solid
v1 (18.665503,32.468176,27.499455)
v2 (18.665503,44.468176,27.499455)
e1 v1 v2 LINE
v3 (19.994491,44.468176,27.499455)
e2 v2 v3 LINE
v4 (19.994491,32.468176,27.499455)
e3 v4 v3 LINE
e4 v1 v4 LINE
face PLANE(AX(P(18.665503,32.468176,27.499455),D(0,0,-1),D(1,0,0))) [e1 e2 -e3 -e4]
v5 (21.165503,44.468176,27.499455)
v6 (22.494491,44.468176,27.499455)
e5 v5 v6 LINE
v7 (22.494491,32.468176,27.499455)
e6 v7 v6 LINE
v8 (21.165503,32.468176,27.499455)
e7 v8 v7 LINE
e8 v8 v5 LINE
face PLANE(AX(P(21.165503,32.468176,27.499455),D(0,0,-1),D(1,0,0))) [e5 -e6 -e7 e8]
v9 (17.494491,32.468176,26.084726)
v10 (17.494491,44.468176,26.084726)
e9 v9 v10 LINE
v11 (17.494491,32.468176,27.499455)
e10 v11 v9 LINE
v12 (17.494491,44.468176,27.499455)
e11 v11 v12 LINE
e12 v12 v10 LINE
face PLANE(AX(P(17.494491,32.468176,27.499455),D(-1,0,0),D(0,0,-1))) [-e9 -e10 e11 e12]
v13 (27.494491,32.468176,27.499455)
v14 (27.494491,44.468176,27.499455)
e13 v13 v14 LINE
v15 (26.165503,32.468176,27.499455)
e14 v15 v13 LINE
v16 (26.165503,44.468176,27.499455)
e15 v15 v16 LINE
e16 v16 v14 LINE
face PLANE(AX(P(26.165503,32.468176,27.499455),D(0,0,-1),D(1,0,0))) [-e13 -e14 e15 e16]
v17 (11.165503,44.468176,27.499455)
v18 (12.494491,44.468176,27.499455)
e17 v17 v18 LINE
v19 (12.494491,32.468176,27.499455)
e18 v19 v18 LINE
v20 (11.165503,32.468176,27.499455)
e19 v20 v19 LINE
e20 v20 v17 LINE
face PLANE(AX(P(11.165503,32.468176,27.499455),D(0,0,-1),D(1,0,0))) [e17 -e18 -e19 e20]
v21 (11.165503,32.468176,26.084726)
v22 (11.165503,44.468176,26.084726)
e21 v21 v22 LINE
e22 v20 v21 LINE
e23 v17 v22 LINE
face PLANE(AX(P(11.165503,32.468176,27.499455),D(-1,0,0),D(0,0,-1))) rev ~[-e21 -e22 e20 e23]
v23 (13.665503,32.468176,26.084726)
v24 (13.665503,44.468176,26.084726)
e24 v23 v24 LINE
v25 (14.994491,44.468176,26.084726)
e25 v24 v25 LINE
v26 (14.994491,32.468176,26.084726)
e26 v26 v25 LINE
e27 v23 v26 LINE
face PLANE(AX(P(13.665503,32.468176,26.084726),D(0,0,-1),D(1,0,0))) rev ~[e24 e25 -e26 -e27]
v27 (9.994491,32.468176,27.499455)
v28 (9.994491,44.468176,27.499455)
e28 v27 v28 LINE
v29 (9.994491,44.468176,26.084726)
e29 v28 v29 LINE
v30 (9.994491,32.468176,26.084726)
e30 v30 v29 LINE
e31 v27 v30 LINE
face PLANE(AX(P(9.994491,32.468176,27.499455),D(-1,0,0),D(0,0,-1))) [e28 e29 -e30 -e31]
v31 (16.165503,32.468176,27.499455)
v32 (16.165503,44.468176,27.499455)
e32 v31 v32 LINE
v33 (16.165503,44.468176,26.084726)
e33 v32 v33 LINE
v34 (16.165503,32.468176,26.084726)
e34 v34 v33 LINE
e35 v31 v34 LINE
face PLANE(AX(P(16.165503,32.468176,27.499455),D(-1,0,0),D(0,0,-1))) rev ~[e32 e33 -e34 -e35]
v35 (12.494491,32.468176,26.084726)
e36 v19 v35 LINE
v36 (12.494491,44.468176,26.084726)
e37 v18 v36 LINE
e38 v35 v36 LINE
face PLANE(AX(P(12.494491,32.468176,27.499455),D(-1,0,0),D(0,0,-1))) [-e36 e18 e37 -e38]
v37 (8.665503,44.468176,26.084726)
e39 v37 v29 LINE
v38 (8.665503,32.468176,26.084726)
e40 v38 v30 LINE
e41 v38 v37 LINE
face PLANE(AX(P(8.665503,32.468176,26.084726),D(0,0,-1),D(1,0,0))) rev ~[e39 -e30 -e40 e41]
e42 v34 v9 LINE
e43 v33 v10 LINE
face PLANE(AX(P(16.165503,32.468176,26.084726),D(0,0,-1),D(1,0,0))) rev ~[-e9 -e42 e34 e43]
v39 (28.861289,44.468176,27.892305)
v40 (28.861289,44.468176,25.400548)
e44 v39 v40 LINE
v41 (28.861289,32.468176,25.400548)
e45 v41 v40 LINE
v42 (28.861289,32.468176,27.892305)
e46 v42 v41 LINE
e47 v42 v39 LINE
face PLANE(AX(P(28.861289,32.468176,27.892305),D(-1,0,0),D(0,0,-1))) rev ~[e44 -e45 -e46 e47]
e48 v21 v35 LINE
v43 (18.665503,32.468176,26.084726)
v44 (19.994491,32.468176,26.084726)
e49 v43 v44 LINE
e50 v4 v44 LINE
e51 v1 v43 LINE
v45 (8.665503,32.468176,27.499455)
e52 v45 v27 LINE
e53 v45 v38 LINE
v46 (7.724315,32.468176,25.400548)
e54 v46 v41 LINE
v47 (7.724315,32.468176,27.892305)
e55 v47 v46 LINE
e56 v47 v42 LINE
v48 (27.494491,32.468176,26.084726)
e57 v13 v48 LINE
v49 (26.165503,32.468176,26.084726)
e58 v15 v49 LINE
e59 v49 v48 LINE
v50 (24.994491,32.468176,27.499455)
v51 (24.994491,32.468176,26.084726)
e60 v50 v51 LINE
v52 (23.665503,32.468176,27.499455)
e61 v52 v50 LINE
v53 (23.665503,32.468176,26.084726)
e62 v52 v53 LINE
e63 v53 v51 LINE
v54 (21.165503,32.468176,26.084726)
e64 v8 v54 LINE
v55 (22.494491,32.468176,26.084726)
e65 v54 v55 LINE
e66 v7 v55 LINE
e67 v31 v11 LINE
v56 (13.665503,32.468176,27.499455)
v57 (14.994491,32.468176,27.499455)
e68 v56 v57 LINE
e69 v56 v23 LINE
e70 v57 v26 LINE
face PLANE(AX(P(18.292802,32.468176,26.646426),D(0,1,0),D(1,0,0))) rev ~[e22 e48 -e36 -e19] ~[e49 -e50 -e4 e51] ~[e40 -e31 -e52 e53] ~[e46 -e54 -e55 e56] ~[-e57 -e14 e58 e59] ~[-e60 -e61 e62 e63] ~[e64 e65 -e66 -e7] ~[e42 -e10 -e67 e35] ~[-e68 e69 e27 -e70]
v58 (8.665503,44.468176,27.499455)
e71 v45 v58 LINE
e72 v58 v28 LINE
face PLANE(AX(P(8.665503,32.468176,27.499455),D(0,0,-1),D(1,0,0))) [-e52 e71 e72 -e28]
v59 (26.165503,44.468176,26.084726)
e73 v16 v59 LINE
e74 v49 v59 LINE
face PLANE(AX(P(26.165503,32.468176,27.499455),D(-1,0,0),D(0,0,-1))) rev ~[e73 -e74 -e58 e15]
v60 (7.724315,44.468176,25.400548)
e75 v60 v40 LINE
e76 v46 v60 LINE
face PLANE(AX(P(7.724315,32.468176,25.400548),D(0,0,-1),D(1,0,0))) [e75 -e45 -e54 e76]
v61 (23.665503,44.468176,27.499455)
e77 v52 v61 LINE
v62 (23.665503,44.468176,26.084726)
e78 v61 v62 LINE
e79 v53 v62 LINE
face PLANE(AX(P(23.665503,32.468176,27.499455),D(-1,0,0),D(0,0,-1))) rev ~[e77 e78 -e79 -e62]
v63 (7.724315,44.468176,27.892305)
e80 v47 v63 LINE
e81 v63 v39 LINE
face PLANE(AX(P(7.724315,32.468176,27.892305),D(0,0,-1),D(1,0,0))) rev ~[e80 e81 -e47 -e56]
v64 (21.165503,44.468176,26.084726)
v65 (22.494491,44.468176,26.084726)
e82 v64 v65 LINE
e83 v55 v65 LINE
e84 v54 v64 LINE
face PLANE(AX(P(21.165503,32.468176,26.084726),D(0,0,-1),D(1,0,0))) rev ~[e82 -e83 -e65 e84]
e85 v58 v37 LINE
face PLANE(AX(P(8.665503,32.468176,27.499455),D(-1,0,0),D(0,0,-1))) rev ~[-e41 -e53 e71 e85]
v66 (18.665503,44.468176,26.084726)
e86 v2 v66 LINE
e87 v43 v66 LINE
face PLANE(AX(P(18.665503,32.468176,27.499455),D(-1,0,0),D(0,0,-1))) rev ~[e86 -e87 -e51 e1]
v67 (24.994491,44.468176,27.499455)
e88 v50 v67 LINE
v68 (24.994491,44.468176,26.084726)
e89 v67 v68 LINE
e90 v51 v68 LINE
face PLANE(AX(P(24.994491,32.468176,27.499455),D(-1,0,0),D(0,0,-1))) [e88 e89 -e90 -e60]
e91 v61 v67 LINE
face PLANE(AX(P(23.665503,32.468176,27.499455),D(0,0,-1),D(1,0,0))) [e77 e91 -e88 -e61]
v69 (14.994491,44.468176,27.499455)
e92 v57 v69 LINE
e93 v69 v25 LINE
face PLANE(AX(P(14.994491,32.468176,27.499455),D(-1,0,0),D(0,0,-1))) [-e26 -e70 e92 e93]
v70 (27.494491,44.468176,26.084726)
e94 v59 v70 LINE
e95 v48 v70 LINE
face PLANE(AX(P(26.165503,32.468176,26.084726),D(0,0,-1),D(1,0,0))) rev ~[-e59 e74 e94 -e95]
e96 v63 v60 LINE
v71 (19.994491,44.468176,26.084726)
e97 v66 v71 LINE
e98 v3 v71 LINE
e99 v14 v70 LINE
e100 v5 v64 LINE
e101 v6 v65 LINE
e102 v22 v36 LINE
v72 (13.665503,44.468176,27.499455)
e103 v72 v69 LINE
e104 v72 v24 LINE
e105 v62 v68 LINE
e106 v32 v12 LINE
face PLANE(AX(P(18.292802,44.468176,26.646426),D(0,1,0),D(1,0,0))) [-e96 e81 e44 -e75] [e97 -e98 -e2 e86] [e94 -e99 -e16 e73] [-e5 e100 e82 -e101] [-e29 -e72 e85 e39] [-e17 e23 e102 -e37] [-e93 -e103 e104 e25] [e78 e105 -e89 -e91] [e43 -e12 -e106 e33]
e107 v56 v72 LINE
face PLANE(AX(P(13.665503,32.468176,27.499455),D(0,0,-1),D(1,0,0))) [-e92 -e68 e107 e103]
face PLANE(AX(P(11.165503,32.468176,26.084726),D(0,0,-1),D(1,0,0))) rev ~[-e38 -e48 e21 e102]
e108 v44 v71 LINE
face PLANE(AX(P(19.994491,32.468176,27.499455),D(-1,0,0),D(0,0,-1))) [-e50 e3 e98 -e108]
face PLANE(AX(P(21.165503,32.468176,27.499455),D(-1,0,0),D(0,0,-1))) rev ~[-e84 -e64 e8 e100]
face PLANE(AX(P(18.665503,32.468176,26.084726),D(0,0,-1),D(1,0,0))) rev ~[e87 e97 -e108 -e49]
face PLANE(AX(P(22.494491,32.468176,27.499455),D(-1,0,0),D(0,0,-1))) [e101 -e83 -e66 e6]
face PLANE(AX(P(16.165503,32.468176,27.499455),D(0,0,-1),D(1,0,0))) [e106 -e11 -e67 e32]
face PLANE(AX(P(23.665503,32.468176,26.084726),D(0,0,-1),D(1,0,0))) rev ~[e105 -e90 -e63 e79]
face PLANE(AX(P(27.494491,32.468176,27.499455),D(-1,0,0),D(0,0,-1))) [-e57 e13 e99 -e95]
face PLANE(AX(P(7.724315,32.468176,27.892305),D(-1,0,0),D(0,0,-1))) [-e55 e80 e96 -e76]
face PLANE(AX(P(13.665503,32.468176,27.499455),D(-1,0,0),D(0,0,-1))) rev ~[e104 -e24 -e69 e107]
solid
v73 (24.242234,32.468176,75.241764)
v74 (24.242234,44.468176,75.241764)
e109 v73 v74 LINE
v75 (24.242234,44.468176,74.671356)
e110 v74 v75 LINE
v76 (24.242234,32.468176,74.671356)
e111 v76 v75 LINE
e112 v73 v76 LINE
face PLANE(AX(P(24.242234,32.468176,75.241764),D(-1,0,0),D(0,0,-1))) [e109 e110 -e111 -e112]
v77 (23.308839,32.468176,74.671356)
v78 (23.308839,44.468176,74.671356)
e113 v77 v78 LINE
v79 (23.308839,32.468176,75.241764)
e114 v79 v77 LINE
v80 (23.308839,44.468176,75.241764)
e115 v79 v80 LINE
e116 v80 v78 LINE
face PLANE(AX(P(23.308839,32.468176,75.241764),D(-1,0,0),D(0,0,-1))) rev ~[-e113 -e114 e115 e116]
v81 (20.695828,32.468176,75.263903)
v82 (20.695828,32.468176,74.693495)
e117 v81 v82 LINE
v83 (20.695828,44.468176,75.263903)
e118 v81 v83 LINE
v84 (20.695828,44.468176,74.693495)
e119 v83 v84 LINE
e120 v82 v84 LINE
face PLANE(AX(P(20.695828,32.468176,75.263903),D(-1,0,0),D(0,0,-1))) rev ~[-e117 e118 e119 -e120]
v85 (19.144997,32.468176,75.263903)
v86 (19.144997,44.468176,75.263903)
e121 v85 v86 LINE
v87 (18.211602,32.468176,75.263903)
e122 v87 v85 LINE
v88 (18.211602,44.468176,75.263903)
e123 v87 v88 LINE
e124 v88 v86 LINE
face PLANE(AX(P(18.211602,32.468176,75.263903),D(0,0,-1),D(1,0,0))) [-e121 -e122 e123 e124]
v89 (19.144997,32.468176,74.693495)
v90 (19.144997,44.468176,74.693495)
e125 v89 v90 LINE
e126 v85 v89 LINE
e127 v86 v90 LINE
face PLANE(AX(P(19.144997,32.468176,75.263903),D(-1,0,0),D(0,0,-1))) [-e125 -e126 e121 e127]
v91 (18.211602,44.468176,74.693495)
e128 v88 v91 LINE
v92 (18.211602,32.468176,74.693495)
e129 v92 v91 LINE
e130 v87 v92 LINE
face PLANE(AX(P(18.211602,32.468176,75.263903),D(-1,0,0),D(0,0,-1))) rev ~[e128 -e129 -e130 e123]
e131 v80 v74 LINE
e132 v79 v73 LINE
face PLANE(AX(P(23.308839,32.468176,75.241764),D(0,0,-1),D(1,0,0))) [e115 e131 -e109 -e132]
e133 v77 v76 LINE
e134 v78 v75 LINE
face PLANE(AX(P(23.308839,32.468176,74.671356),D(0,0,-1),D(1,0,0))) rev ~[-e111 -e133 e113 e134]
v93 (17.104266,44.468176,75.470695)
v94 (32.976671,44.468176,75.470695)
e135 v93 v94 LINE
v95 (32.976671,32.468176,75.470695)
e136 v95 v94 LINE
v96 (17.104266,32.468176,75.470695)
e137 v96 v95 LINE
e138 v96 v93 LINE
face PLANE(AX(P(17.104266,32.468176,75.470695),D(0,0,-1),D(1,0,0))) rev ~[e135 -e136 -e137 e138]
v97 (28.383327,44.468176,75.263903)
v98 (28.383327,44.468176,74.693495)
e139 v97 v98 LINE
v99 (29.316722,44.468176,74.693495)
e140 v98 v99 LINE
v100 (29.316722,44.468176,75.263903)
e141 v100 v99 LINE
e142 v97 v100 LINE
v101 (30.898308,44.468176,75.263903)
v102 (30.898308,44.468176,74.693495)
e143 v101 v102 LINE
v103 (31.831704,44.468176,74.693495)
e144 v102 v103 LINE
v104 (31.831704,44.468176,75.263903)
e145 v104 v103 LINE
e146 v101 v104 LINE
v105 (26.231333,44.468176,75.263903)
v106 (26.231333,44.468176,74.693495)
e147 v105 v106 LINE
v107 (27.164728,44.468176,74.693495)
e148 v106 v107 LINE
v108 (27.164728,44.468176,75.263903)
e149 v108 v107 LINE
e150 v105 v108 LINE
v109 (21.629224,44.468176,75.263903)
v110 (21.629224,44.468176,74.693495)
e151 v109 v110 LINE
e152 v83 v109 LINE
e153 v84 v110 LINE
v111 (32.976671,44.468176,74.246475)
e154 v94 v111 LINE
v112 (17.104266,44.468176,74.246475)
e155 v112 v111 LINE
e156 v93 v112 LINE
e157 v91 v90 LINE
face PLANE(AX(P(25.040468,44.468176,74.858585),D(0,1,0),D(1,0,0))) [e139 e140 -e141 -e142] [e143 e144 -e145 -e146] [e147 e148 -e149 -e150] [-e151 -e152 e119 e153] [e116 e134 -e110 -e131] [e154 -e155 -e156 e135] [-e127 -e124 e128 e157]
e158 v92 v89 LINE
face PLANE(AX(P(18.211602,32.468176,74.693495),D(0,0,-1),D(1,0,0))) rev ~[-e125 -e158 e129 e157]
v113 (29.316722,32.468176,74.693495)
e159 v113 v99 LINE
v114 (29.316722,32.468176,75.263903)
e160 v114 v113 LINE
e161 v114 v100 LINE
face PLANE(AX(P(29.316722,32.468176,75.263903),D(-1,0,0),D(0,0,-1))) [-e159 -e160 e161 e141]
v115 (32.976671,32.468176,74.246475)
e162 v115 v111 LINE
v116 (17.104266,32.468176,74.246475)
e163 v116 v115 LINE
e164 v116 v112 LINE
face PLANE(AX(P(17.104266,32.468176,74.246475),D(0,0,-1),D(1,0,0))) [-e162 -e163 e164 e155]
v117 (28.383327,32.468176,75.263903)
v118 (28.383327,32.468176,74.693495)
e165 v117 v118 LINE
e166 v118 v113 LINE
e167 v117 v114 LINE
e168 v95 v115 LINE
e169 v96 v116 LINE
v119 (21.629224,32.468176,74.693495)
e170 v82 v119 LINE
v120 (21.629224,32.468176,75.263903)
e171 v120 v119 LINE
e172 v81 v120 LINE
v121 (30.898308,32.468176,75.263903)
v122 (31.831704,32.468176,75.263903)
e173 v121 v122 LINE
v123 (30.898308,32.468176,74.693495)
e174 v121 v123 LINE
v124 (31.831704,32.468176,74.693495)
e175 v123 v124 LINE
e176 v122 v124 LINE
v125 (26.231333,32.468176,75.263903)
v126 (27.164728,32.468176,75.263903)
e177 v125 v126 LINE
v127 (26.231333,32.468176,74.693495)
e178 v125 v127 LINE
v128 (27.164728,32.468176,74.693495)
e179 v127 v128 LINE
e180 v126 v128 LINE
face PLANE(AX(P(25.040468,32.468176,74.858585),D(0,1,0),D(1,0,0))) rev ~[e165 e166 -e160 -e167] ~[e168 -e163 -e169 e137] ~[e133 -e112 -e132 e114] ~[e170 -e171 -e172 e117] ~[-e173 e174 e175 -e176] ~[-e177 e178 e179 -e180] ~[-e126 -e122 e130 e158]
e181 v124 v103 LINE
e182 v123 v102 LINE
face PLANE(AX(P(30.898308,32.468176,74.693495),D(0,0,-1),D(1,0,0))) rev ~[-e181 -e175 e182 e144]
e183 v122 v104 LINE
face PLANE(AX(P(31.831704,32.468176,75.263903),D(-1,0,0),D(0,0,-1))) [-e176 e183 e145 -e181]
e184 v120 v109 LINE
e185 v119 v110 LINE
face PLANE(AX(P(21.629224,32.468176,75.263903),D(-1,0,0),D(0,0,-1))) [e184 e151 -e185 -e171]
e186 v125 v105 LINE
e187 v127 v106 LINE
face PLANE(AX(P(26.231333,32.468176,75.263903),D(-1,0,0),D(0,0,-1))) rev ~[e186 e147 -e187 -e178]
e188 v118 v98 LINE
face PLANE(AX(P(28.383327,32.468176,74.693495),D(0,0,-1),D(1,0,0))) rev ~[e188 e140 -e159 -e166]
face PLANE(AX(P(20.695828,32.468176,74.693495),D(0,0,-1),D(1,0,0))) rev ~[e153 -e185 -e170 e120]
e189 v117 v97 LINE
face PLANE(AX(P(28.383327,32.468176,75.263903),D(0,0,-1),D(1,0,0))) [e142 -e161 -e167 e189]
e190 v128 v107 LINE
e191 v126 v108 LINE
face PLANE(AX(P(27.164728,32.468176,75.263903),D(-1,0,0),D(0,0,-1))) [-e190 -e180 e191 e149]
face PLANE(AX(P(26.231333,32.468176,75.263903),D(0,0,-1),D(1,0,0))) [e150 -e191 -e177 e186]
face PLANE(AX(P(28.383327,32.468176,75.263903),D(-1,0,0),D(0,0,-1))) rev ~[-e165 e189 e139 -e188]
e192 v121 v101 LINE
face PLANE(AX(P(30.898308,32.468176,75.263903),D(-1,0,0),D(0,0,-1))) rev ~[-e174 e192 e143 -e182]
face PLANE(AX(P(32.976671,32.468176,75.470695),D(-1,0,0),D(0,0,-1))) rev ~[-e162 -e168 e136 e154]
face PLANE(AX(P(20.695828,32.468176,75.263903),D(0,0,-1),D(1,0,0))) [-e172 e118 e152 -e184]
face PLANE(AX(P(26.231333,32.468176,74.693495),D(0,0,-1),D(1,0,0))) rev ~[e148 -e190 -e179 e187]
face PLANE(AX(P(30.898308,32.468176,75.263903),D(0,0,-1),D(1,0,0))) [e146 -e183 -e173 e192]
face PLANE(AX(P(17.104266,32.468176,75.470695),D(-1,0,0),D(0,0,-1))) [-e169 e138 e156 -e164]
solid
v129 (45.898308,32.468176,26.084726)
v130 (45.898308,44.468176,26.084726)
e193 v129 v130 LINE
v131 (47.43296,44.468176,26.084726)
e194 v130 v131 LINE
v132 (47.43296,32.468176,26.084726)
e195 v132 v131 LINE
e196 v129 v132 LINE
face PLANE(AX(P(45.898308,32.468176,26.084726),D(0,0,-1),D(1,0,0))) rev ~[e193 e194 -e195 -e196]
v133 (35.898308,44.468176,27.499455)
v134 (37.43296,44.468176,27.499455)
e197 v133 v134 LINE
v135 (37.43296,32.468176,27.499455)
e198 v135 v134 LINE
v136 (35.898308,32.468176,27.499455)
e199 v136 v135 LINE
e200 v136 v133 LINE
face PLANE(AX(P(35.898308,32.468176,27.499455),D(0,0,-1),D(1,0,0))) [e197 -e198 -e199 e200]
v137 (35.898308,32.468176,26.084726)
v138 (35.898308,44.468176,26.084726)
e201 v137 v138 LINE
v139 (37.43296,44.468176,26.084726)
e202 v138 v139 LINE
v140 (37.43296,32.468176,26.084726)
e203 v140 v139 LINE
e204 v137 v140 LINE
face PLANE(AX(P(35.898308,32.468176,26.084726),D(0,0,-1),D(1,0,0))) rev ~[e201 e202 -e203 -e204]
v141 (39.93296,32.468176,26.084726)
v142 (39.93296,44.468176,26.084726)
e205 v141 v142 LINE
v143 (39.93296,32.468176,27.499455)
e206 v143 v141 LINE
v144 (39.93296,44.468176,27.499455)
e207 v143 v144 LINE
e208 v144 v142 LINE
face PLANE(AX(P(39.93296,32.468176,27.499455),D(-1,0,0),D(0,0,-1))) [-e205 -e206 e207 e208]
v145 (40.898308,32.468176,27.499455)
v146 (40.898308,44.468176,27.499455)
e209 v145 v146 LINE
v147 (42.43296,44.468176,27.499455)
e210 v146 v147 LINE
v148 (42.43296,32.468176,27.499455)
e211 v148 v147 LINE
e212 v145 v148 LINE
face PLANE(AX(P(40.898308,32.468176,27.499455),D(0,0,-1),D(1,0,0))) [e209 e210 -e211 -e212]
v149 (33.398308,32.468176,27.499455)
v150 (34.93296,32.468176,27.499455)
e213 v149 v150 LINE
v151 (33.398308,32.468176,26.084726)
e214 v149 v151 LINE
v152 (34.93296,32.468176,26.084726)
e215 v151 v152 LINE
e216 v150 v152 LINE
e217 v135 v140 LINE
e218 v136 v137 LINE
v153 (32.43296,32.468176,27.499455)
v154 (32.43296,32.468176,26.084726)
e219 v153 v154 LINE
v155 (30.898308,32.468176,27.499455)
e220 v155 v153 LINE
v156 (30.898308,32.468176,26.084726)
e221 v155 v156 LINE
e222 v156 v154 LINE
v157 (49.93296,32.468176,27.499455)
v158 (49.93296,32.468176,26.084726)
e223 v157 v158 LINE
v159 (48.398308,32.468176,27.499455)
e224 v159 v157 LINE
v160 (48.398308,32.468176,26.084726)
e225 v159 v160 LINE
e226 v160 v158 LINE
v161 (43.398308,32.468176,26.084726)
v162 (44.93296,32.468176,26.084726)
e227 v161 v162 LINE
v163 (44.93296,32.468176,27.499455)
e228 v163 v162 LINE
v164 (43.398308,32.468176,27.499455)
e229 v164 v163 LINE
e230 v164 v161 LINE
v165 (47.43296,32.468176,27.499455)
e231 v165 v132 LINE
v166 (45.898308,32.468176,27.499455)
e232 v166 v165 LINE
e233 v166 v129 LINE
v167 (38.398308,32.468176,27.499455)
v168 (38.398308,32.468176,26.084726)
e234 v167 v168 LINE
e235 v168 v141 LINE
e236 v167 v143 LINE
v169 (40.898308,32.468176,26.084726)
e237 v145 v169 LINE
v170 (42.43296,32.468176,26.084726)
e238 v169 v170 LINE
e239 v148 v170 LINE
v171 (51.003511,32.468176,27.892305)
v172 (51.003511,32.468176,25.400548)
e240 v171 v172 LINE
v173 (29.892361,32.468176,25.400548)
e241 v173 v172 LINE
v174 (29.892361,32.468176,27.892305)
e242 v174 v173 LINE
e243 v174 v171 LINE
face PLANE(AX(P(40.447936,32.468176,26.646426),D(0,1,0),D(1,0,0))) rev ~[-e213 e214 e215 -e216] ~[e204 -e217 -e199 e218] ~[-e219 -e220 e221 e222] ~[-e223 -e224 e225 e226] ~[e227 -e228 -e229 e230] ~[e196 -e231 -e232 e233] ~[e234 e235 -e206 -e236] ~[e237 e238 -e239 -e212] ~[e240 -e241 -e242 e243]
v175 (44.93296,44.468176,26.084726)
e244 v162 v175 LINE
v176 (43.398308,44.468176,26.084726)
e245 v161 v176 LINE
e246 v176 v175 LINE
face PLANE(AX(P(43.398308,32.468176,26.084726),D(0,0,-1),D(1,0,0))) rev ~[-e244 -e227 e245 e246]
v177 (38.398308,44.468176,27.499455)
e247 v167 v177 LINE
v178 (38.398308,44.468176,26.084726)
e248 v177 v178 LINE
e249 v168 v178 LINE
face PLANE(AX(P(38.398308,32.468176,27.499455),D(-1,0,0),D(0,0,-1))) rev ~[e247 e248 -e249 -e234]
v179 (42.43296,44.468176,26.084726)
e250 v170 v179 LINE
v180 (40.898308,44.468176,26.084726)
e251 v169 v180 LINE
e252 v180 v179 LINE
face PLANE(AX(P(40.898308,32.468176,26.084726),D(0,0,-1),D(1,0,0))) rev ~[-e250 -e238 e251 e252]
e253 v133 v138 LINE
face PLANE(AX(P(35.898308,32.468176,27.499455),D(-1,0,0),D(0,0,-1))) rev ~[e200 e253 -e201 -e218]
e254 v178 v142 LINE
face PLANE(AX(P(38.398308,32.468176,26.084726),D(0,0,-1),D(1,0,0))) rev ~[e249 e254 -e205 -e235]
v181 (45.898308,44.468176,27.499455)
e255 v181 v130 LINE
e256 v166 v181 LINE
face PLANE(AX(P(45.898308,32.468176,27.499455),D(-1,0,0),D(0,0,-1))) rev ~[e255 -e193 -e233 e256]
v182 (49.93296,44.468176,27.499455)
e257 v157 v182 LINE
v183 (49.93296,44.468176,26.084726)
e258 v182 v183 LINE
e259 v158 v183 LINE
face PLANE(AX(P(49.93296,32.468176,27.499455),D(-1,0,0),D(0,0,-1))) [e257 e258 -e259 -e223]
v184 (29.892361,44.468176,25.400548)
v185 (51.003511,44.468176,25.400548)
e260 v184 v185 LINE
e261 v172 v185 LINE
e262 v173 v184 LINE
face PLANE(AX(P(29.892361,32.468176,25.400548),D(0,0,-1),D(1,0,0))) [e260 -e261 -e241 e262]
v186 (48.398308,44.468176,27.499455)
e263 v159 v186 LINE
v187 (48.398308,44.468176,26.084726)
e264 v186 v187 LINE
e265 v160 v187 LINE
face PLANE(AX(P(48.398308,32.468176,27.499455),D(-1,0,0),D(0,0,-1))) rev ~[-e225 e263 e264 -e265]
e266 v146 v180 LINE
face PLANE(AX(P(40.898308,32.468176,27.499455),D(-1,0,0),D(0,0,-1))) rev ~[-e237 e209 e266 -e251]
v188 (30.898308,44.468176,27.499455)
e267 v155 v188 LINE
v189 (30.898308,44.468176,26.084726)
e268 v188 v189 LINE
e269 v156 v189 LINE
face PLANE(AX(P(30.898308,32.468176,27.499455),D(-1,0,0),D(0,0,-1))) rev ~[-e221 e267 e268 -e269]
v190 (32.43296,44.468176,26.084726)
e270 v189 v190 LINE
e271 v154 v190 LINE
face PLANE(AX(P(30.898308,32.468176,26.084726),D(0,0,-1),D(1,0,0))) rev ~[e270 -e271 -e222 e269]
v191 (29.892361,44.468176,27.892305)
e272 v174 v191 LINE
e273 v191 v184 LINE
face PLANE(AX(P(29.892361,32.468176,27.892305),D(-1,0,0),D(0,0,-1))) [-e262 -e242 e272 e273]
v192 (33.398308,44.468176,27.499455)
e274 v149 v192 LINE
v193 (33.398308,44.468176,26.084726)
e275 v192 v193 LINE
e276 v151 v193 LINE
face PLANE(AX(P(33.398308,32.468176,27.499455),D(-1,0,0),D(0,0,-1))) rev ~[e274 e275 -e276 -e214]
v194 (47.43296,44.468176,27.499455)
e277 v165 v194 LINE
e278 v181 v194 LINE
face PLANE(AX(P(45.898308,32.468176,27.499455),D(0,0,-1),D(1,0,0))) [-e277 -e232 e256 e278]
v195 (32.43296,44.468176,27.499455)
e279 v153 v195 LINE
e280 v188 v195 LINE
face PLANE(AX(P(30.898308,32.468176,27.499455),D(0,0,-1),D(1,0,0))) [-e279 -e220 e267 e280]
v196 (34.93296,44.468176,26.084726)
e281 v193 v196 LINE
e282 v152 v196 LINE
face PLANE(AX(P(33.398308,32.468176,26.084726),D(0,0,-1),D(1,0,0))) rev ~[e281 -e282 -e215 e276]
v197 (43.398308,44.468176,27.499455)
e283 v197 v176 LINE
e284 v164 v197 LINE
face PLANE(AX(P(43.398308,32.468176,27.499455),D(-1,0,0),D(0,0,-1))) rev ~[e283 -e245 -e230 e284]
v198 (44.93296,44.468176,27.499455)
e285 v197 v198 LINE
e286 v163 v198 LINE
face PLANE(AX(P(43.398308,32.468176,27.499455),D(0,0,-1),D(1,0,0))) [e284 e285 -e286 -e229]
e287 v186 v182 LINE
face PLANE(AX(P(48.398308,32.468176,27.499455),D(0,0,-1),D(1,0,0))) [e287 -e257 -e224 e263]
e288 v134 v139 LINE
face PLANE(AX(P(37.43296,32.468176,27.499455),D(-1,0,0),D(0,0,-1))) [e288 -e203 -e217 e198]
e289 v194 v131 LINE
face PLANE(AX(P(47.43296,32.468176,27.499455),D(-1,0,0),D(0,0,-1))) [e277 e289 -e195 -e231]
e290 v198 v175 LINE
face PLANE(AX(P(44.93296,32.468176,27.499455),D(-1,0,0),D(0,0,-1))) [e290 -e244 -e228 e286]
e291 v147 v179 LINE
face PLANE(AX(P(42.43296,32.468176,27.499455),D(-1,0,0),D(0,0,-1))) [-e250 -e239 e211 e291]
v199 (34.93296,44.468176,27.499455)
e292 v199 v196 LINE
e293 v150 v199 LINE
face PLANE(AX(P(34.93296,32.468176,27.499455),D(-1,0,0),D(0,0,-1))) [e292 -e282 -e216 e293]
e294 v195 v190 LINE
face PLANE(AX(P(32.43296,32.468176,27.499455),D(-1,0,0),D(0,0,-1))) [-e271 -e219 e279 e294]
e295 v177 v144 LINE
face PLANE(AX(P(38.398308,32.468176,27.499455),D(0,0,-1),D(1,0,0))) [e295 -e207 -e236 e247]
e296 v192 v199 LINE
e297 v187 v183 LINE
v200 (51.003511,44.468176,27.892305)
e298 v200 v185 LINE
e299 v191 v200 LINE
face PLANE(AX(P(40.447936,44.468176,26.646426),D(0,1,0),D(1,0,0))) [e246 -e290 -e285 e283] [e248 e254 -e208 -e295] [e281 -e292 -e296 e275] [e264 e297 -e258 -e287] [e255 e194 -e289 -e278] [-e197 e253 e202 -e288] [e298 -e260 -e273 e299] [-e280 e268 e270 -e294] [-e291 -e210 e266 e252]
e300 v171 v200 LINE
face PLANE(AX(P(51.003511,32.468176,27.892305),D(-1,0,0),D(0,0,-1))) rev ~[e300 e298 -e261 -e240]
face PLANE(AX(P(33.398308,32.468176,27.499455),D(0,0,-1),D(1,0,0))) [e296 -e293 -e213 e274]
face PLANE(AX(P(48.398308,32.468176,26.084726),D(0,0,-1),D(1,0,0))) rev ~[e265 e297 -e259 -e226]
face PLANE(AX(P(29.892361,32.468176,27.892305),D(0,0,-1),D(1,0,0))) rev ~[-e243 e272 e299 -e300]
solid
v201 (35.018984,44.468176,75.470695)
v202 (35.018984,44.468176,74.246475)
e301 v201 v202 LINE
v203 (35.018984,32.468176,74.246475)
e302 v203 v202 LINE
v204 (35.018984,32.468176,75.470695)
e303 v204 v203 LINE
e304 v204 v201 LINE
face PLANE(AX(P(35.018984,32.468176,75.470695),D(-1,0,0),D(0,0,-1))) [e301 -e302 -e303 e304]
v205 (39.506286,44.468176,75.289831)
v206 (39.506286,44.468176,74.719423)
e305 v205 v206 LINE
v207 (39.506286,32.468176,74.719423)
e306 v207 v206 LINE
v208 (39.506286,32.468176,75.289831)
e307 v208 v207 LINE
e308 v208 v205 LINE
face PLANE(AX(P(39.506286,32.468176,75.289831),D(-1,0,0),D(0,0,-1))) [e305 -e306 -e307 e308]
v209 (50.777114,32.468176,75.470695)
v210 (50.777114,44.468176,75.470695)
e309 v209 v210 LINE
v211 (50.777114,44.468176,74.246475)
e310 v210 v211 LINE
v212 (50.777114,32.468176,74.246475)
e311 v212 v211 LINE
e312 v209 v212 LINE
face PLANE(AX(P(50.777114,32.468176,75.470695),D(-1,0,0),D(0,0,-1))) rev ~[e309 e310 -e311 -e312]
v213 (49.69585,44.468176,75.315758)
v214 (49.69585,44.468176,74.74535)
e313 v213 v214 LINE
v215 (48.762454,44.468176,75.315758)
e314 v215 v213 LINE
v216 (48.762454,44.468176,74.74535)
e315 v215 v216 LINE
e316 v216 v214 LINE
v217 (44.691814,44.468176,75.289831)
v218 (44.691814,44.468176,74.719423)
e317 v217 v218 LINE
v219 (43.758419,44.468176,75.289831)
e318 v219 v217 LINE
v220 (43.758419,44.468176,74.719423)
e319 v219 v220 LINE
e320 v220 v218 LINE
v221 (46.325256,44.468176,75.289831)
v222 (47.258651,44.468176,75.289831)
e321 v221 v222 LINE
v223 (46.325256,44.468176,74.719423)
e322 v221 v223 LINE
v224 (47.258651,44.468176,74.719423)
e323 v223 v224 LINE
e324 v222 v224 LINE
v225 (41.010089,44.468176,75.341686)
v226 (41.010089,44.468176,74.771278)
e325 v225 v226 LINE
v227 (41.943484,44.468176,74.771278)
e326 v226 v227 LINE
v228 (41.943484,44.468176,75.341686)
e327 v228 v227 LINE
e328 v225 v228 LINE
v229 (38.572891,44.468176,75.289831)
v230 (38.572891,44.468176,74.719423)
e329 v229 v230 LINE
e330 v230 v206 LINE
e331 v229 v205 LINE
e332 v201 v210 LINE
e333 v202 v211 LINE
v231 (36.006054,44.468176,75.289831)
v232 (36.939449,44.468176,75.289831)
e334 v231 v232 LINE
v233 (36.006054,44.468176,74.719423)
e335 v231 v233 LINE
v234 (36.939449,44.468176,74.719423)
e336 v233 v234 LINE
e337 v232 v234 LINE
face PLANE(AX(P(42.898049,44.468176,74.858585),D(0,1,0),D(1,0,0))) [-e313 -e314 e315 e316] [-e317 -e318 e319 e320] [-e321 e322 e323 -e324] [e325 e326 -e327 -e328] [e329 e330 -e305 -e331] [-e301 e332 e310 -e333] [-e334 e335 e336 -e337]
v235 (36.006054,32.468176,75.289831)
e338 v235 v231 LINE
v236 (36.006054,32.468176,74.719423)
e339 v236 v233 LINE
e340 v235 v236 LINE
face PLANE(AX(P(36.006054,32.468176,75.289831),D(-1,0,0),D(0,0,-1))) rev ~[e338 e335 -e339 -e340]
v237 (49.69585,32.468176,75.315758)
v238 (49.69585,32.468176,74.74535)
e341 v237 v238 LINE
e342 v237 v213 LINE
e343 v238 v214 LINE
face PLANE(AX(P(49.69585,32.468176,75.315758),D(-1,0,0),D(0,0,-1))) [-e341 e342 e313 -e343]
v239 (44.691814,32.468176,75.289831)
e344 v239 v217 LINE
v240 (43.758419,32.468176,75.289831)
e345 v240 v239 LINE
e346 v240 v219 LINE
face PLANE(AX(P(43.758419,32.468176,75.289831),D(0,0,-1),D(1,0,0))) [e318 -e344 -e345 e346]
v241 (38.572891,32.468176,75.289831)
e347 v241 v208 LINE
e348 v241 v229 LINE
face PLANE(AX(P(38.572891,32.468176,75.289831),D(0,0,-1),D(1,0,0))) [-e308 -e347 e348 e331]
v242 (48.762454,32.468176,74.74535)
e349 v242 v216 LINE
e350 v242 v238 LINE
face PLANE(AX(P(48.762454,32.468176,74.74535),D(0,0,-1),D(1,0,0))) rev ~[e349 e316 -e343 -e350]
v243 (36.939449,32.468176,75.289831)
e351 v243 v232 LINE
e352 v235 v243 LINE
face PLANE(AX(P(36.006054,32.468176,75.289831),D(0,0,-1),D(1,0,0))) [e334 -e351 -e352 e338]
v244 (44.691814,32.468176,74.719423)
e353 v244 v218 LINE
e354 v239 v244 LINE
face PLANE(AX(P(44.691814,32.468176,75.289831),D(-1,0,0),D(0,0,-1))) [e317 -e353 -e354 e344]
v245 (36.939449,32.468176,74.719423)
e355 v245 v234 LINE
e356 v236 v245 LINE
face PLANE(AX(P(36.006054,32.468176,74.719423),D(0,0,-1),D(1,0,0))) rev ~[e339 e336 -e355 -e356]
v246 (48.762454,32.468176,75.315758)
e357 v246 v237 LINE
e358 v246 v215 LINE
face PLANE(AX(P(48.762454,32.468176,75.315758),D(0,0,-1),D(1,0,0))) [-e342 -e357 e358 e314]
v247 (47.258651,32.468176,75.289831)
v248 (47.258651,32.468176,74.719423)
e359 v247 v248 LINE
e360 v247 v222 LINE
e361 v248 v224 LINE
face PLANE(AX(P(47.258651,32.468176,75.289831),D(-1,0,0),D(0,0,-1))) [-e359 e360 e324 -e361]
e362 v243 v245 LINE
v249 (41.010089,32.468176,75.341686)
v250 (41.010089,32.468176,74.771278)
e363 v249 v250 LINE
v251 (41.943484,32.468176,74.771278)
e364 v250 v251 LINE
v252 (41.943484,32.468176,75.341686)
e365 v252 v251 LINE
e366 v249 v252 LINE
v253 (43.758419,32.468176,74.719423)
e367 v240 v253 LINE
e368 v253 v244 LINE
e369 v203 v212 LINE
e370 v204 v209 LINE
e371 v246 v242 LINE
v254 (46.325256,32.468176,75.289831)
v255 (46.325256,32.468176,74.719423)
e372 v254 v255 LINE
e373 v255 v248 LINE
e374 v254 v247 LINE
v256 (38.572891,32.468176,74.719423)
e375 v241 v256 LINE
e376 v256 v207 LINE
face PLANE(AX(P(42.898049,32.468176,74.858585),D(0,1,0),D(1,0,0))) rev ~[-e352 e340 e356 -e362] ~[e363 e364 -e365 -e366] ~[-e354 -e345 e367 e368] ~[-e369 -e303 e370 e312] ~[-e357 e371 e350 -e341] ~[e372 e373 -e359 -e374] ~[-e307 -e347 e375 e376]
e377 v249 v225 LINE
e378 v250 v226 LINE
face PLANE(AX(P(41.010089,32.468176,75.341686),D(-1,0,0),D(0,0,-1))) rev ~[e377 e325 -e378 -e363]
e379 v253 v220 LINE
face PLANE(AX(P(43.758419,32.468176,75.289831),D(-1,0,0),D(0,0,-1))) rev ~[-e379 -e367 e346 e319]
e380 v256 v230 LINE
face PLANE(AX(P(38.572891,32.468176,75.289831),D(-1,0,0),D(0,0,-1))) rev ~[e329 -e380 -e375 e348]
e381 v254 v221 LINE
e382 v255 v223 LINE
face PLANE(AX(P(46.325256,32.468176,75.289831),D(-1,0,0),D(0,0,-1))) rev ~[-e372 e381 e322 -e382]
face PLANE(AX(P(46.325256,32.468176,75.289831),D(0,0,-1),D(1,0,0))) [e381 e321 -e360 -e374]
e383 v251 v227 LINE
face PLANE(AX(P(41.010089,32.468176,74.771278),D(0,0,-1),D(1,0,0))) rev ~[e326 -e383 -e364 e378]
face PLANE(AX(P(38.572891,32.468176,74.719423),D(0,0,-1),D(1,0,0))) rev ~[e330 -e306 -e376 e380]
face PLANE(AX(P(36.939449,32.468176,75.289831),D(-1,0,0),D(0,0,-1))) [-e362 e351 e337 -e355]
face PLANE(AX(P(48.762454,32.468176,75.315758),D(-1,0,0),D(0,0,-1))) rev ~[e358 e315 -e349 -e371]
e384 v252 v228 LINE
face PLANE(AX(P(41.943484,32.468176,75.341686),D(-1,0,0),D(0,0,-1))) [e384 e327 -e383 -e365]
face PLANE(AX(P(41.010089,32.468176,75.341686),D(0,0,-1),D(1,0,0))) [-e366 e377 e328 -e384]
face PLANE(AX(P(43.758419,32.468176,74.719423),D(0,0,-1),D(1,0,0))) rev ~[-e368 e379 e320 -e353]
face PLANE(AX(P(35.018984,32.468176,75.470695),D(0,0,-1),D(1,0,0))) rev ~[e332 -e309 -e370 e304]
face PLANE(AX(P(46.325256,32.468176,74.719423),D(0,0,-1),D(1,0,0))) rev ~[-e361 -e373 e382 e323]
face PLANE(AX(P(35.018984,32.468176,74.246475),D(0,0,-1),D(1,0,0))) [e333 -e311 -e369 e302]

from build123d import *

# Parameters (mm, degrees)
CROQUIS1_W                = 21.13697434
CROQUIS1_H                = 2.491757137
CROQUIS1_W_2              = 1.3289884
CROQUIS1_H_2              = 1.414729588
SALIENTE_EXTRUIR1_DEPTH   = 12
CROQUIS1_W_3              = 21.11114987
CROQUIS1_W_4              = 1.534651331
SALIENTE_EXTRUIR1_2_DEPTH = 12
CROQUIS1_W_5              = 15.872405115
CROQUIS1_H_3              = 1.224219714
CROQUIS1_W_6              = 0.933395143
CROQUIS1_H_4              = 0.570408143
CROQUIS1_W_7              = 0.933395142
CROQUIS1_H_5              = 0.570408142
SALIENTE_EXTRUIR1_3_DEPTH = 12
CROQUIS1_W_8              = 15.758129679
SALIENTE_EXTRUIR1_4_DEPTH = 12


with BuildPart() as part:
    # Croquis1 → Saliente-Extruir1 (new body)
    with BuildSketch(Plane(origin=(0, 32.468175746, 0), x_dir=(1, 0, 0), z_dir=(0, 1, 0))):
        with Locations((18.292801832, -26.646426471)):
            Rectangle(CROQUIS1_W, CROQUIS1_H)
        with Locations((26.829996904, -26.792090507)):
            Rectangle(CROQUIS1_W_2, CROQUIS1_H_2, mode=Mode.SUBTRACT)
        with Locations((24.329996904, -26.792090507)):
            Rectangle(CROQUIS1_W_2, CROQUIS1_H_2, mode=Mode.SUBTRACT)
        with Locations((21.829996904, -26.792090507)):
            Rectangle(CROQUIS1_W_2, CROQUIS1_H_2, mode=Mode.SUBTRACT)
        with Locations((19.329996904, -26.792090507)):
            Rectangle(CROQUIS1_W_2, CROQUIS1_H_2, mode=Mode.SUBTRACT)
        with Locations((16.829996904, -26.792090507)):
            Rectangle(CROQUIS1_W_2, CROQUIS1_H_2, mode=Mode.SUBTRACT)
        with Locations((14.329996904, -26.792090507)):
            Rectangle(CROQUIS1_W_2, CROQUIS1_H_2, mode=Mode.SUBTRACT)
        with Locations((11.829996904, -26.792090507)):
            Rectangle(CROQUIS1_W_2, CROQUIS1_H_2, mode=Mode.SUBTRACT)
        with Locations((9.329996904, -26.792090507)):
            Rectangle(CROQUIS1_W_2, CROQUIS1_H_2, mode=Mode.SUBTRACT)
    extrude(amount=SALIENTE_EXTRUIR1_DEPTH)


with BuildPart() as body_2:
    # Croquis1 → Saliente-Extruir1 2 (new body)
    with BuildSketch(Plane(origin=(0, 32.468175746, 0), x_dir=(1, 0, 0), z_dir=(0, 1, 0))):
        with Locations((40.447935856, -26.646426471)):
            Rectangle(CROQUIS1_W_3, CROQUIS1_H)
        with Locations((49.165634111, -26.792090507)):
            Rectangle(CROQUIS1_W_4, CROQUIS1_H_2, mode=Mode.SUBTRACT)
        with Locations((46.665634111, -26.792090507)):
            Rectangle(CROQUIS1_W_4, CROQUIS1_H_2, mode=Mode.SUBTRACT)
        with Locations((44.165634111, -26.792090507)):
            Rectangle(CROQUIS1_W_4, CROQUIS1_H_2, mode=Mode.SUBTRACT)
        with Locations((41.665634111, -26.792090507)):
            Rectangle(CROQUIS1_W_4, CROQUIS1_H_2, mode=Mode.SUBTRACT)
        with Locations((39.165634111, -26.792090507)):
            Rectangle(CROQUIS1_W_4, CROQUIS1_H_2, mode=Mode.SUBTRACT)
        with Locations((36.665634111, -26.792090507)):
            Rectangle(CROQUIS1_W_4, CROQUIS1_H_2, mode=Mode.SUBTRACT)
        with Locations((34.165634111, -26.792090507)):
            Rectangle(CROQUIS1_W_4, CROQUIS1_H_2, mode=Mode.SUBTRACT)
        with Locations((31.665634112, -26.792090507)):
            Rectangle(CROQUIS1_W_4, CROQUIS1_H_2, mode=Mode.SUBTRACT)
    extrude(amount=SALIENTE_EXTRUIR1_2_DEPTH)


with BuildPart() as body_3:
    # Croquis1 → Saliente-Extruir1 3 (new body)
    with BuildSketch(Plane(origin=(0, 32.468175746, 0), x_dir=(1, 0, 0), z_dir=(0, 1, 0))):
        with Locations((25.040468248, -74.858584693)):
            Rectangle(CROQUIS1_W_5, CROQUIS1_H_3)
        with Locations((21.162525946, -74.978698992)):
            Rectangle(CROQUIS1_W_6, CROQUIS1_H_4, mode=Mode.SUBTRACT)
        with Locations((26.698030304, -74.978698992)):
            Rectangle(CROQUIS1_W_6, CROQUIS1_H_4, mode=Mode.SUBTRACT)
        with Locations((31.365006017, -74.978698992)):
            Rectangle(CROQUIS1_W_7, CROQUIS1_H_4, mode=Mode.SUBTRACT)
        with Locations((28.850024661, -74.978698992)):
            Rectangle(CROQUIS1_W_6, CROQUIS1_H_4, mode=Mode.SUBTRACT)
        with Locations((18.678299237, -74.978698992)):
            Rectangle(CROQUIS1_W_6, CROQUIS1_H_4, mode=Mode.SUBTRACT)
        with Locations((23.775536855, -74.956559737)):
            Rectangle(CROQUIS1_W_6, CROQUIS1_H_5, mode=Mode.SUBTRACT)
    extrude(amount=SALIENTE_EXTRUIR1_3_DEPTH)


with BuildPart() as body_4:
    # Croquis1 → Saliente-Extruir1 4 (new body)
    with BuildSketch(Plane(origin=(0, 32.468175746, 0), x_dir=(1, 0, 0), z_dir=(0, 1, 0))):
        with Locations((42.898049179, -74.858584693)):
            Rectangle(CROQUIS1_W_8, CROQUIS1_H_3)
        with Locations((46.791953516, -75.004626634)):
            Rectangle(CROQUIS1_W_7, CROQUIS1_H_5, mode=Mode.SUBTRACT)
        with Locations((41.476786731, -75.05648192)):
            Rectangle(CROQUIS1_W_6, CROQUIS1_H_4, mode=Mode.SUBTRACT)
        with Locations((36.47275166, -75.004626634)):
            Rectangle(CROQUIS1_W_6, CROQUIS1_H_5, mode=Mode.SUBTRACT)
        with Locations((39.039588303, -75.004626634)):
            Rectangle(CROQUIS1_W_6, CROQUIS1_H_5, mode=Mode.SUBTRACT)
        with Locations((44.225116873, -75.004626634)):
            Rectangle(CROQUIS1_W_6, CROQUIS1_H_5, mode=Mode.SUBTRACT)
        with Locations((49.229151945, -75.030554276)):
            Rectangle(CROQUIS1_W_6, CROQUIS1_H_4, mode=Mode.SUBTRACT)
    extrude(amount=SALIENTE_EXTRUIR1_4_DEPTH)


solid = Compound([part.part, body_2.part, body_3.part, body_4.part])
